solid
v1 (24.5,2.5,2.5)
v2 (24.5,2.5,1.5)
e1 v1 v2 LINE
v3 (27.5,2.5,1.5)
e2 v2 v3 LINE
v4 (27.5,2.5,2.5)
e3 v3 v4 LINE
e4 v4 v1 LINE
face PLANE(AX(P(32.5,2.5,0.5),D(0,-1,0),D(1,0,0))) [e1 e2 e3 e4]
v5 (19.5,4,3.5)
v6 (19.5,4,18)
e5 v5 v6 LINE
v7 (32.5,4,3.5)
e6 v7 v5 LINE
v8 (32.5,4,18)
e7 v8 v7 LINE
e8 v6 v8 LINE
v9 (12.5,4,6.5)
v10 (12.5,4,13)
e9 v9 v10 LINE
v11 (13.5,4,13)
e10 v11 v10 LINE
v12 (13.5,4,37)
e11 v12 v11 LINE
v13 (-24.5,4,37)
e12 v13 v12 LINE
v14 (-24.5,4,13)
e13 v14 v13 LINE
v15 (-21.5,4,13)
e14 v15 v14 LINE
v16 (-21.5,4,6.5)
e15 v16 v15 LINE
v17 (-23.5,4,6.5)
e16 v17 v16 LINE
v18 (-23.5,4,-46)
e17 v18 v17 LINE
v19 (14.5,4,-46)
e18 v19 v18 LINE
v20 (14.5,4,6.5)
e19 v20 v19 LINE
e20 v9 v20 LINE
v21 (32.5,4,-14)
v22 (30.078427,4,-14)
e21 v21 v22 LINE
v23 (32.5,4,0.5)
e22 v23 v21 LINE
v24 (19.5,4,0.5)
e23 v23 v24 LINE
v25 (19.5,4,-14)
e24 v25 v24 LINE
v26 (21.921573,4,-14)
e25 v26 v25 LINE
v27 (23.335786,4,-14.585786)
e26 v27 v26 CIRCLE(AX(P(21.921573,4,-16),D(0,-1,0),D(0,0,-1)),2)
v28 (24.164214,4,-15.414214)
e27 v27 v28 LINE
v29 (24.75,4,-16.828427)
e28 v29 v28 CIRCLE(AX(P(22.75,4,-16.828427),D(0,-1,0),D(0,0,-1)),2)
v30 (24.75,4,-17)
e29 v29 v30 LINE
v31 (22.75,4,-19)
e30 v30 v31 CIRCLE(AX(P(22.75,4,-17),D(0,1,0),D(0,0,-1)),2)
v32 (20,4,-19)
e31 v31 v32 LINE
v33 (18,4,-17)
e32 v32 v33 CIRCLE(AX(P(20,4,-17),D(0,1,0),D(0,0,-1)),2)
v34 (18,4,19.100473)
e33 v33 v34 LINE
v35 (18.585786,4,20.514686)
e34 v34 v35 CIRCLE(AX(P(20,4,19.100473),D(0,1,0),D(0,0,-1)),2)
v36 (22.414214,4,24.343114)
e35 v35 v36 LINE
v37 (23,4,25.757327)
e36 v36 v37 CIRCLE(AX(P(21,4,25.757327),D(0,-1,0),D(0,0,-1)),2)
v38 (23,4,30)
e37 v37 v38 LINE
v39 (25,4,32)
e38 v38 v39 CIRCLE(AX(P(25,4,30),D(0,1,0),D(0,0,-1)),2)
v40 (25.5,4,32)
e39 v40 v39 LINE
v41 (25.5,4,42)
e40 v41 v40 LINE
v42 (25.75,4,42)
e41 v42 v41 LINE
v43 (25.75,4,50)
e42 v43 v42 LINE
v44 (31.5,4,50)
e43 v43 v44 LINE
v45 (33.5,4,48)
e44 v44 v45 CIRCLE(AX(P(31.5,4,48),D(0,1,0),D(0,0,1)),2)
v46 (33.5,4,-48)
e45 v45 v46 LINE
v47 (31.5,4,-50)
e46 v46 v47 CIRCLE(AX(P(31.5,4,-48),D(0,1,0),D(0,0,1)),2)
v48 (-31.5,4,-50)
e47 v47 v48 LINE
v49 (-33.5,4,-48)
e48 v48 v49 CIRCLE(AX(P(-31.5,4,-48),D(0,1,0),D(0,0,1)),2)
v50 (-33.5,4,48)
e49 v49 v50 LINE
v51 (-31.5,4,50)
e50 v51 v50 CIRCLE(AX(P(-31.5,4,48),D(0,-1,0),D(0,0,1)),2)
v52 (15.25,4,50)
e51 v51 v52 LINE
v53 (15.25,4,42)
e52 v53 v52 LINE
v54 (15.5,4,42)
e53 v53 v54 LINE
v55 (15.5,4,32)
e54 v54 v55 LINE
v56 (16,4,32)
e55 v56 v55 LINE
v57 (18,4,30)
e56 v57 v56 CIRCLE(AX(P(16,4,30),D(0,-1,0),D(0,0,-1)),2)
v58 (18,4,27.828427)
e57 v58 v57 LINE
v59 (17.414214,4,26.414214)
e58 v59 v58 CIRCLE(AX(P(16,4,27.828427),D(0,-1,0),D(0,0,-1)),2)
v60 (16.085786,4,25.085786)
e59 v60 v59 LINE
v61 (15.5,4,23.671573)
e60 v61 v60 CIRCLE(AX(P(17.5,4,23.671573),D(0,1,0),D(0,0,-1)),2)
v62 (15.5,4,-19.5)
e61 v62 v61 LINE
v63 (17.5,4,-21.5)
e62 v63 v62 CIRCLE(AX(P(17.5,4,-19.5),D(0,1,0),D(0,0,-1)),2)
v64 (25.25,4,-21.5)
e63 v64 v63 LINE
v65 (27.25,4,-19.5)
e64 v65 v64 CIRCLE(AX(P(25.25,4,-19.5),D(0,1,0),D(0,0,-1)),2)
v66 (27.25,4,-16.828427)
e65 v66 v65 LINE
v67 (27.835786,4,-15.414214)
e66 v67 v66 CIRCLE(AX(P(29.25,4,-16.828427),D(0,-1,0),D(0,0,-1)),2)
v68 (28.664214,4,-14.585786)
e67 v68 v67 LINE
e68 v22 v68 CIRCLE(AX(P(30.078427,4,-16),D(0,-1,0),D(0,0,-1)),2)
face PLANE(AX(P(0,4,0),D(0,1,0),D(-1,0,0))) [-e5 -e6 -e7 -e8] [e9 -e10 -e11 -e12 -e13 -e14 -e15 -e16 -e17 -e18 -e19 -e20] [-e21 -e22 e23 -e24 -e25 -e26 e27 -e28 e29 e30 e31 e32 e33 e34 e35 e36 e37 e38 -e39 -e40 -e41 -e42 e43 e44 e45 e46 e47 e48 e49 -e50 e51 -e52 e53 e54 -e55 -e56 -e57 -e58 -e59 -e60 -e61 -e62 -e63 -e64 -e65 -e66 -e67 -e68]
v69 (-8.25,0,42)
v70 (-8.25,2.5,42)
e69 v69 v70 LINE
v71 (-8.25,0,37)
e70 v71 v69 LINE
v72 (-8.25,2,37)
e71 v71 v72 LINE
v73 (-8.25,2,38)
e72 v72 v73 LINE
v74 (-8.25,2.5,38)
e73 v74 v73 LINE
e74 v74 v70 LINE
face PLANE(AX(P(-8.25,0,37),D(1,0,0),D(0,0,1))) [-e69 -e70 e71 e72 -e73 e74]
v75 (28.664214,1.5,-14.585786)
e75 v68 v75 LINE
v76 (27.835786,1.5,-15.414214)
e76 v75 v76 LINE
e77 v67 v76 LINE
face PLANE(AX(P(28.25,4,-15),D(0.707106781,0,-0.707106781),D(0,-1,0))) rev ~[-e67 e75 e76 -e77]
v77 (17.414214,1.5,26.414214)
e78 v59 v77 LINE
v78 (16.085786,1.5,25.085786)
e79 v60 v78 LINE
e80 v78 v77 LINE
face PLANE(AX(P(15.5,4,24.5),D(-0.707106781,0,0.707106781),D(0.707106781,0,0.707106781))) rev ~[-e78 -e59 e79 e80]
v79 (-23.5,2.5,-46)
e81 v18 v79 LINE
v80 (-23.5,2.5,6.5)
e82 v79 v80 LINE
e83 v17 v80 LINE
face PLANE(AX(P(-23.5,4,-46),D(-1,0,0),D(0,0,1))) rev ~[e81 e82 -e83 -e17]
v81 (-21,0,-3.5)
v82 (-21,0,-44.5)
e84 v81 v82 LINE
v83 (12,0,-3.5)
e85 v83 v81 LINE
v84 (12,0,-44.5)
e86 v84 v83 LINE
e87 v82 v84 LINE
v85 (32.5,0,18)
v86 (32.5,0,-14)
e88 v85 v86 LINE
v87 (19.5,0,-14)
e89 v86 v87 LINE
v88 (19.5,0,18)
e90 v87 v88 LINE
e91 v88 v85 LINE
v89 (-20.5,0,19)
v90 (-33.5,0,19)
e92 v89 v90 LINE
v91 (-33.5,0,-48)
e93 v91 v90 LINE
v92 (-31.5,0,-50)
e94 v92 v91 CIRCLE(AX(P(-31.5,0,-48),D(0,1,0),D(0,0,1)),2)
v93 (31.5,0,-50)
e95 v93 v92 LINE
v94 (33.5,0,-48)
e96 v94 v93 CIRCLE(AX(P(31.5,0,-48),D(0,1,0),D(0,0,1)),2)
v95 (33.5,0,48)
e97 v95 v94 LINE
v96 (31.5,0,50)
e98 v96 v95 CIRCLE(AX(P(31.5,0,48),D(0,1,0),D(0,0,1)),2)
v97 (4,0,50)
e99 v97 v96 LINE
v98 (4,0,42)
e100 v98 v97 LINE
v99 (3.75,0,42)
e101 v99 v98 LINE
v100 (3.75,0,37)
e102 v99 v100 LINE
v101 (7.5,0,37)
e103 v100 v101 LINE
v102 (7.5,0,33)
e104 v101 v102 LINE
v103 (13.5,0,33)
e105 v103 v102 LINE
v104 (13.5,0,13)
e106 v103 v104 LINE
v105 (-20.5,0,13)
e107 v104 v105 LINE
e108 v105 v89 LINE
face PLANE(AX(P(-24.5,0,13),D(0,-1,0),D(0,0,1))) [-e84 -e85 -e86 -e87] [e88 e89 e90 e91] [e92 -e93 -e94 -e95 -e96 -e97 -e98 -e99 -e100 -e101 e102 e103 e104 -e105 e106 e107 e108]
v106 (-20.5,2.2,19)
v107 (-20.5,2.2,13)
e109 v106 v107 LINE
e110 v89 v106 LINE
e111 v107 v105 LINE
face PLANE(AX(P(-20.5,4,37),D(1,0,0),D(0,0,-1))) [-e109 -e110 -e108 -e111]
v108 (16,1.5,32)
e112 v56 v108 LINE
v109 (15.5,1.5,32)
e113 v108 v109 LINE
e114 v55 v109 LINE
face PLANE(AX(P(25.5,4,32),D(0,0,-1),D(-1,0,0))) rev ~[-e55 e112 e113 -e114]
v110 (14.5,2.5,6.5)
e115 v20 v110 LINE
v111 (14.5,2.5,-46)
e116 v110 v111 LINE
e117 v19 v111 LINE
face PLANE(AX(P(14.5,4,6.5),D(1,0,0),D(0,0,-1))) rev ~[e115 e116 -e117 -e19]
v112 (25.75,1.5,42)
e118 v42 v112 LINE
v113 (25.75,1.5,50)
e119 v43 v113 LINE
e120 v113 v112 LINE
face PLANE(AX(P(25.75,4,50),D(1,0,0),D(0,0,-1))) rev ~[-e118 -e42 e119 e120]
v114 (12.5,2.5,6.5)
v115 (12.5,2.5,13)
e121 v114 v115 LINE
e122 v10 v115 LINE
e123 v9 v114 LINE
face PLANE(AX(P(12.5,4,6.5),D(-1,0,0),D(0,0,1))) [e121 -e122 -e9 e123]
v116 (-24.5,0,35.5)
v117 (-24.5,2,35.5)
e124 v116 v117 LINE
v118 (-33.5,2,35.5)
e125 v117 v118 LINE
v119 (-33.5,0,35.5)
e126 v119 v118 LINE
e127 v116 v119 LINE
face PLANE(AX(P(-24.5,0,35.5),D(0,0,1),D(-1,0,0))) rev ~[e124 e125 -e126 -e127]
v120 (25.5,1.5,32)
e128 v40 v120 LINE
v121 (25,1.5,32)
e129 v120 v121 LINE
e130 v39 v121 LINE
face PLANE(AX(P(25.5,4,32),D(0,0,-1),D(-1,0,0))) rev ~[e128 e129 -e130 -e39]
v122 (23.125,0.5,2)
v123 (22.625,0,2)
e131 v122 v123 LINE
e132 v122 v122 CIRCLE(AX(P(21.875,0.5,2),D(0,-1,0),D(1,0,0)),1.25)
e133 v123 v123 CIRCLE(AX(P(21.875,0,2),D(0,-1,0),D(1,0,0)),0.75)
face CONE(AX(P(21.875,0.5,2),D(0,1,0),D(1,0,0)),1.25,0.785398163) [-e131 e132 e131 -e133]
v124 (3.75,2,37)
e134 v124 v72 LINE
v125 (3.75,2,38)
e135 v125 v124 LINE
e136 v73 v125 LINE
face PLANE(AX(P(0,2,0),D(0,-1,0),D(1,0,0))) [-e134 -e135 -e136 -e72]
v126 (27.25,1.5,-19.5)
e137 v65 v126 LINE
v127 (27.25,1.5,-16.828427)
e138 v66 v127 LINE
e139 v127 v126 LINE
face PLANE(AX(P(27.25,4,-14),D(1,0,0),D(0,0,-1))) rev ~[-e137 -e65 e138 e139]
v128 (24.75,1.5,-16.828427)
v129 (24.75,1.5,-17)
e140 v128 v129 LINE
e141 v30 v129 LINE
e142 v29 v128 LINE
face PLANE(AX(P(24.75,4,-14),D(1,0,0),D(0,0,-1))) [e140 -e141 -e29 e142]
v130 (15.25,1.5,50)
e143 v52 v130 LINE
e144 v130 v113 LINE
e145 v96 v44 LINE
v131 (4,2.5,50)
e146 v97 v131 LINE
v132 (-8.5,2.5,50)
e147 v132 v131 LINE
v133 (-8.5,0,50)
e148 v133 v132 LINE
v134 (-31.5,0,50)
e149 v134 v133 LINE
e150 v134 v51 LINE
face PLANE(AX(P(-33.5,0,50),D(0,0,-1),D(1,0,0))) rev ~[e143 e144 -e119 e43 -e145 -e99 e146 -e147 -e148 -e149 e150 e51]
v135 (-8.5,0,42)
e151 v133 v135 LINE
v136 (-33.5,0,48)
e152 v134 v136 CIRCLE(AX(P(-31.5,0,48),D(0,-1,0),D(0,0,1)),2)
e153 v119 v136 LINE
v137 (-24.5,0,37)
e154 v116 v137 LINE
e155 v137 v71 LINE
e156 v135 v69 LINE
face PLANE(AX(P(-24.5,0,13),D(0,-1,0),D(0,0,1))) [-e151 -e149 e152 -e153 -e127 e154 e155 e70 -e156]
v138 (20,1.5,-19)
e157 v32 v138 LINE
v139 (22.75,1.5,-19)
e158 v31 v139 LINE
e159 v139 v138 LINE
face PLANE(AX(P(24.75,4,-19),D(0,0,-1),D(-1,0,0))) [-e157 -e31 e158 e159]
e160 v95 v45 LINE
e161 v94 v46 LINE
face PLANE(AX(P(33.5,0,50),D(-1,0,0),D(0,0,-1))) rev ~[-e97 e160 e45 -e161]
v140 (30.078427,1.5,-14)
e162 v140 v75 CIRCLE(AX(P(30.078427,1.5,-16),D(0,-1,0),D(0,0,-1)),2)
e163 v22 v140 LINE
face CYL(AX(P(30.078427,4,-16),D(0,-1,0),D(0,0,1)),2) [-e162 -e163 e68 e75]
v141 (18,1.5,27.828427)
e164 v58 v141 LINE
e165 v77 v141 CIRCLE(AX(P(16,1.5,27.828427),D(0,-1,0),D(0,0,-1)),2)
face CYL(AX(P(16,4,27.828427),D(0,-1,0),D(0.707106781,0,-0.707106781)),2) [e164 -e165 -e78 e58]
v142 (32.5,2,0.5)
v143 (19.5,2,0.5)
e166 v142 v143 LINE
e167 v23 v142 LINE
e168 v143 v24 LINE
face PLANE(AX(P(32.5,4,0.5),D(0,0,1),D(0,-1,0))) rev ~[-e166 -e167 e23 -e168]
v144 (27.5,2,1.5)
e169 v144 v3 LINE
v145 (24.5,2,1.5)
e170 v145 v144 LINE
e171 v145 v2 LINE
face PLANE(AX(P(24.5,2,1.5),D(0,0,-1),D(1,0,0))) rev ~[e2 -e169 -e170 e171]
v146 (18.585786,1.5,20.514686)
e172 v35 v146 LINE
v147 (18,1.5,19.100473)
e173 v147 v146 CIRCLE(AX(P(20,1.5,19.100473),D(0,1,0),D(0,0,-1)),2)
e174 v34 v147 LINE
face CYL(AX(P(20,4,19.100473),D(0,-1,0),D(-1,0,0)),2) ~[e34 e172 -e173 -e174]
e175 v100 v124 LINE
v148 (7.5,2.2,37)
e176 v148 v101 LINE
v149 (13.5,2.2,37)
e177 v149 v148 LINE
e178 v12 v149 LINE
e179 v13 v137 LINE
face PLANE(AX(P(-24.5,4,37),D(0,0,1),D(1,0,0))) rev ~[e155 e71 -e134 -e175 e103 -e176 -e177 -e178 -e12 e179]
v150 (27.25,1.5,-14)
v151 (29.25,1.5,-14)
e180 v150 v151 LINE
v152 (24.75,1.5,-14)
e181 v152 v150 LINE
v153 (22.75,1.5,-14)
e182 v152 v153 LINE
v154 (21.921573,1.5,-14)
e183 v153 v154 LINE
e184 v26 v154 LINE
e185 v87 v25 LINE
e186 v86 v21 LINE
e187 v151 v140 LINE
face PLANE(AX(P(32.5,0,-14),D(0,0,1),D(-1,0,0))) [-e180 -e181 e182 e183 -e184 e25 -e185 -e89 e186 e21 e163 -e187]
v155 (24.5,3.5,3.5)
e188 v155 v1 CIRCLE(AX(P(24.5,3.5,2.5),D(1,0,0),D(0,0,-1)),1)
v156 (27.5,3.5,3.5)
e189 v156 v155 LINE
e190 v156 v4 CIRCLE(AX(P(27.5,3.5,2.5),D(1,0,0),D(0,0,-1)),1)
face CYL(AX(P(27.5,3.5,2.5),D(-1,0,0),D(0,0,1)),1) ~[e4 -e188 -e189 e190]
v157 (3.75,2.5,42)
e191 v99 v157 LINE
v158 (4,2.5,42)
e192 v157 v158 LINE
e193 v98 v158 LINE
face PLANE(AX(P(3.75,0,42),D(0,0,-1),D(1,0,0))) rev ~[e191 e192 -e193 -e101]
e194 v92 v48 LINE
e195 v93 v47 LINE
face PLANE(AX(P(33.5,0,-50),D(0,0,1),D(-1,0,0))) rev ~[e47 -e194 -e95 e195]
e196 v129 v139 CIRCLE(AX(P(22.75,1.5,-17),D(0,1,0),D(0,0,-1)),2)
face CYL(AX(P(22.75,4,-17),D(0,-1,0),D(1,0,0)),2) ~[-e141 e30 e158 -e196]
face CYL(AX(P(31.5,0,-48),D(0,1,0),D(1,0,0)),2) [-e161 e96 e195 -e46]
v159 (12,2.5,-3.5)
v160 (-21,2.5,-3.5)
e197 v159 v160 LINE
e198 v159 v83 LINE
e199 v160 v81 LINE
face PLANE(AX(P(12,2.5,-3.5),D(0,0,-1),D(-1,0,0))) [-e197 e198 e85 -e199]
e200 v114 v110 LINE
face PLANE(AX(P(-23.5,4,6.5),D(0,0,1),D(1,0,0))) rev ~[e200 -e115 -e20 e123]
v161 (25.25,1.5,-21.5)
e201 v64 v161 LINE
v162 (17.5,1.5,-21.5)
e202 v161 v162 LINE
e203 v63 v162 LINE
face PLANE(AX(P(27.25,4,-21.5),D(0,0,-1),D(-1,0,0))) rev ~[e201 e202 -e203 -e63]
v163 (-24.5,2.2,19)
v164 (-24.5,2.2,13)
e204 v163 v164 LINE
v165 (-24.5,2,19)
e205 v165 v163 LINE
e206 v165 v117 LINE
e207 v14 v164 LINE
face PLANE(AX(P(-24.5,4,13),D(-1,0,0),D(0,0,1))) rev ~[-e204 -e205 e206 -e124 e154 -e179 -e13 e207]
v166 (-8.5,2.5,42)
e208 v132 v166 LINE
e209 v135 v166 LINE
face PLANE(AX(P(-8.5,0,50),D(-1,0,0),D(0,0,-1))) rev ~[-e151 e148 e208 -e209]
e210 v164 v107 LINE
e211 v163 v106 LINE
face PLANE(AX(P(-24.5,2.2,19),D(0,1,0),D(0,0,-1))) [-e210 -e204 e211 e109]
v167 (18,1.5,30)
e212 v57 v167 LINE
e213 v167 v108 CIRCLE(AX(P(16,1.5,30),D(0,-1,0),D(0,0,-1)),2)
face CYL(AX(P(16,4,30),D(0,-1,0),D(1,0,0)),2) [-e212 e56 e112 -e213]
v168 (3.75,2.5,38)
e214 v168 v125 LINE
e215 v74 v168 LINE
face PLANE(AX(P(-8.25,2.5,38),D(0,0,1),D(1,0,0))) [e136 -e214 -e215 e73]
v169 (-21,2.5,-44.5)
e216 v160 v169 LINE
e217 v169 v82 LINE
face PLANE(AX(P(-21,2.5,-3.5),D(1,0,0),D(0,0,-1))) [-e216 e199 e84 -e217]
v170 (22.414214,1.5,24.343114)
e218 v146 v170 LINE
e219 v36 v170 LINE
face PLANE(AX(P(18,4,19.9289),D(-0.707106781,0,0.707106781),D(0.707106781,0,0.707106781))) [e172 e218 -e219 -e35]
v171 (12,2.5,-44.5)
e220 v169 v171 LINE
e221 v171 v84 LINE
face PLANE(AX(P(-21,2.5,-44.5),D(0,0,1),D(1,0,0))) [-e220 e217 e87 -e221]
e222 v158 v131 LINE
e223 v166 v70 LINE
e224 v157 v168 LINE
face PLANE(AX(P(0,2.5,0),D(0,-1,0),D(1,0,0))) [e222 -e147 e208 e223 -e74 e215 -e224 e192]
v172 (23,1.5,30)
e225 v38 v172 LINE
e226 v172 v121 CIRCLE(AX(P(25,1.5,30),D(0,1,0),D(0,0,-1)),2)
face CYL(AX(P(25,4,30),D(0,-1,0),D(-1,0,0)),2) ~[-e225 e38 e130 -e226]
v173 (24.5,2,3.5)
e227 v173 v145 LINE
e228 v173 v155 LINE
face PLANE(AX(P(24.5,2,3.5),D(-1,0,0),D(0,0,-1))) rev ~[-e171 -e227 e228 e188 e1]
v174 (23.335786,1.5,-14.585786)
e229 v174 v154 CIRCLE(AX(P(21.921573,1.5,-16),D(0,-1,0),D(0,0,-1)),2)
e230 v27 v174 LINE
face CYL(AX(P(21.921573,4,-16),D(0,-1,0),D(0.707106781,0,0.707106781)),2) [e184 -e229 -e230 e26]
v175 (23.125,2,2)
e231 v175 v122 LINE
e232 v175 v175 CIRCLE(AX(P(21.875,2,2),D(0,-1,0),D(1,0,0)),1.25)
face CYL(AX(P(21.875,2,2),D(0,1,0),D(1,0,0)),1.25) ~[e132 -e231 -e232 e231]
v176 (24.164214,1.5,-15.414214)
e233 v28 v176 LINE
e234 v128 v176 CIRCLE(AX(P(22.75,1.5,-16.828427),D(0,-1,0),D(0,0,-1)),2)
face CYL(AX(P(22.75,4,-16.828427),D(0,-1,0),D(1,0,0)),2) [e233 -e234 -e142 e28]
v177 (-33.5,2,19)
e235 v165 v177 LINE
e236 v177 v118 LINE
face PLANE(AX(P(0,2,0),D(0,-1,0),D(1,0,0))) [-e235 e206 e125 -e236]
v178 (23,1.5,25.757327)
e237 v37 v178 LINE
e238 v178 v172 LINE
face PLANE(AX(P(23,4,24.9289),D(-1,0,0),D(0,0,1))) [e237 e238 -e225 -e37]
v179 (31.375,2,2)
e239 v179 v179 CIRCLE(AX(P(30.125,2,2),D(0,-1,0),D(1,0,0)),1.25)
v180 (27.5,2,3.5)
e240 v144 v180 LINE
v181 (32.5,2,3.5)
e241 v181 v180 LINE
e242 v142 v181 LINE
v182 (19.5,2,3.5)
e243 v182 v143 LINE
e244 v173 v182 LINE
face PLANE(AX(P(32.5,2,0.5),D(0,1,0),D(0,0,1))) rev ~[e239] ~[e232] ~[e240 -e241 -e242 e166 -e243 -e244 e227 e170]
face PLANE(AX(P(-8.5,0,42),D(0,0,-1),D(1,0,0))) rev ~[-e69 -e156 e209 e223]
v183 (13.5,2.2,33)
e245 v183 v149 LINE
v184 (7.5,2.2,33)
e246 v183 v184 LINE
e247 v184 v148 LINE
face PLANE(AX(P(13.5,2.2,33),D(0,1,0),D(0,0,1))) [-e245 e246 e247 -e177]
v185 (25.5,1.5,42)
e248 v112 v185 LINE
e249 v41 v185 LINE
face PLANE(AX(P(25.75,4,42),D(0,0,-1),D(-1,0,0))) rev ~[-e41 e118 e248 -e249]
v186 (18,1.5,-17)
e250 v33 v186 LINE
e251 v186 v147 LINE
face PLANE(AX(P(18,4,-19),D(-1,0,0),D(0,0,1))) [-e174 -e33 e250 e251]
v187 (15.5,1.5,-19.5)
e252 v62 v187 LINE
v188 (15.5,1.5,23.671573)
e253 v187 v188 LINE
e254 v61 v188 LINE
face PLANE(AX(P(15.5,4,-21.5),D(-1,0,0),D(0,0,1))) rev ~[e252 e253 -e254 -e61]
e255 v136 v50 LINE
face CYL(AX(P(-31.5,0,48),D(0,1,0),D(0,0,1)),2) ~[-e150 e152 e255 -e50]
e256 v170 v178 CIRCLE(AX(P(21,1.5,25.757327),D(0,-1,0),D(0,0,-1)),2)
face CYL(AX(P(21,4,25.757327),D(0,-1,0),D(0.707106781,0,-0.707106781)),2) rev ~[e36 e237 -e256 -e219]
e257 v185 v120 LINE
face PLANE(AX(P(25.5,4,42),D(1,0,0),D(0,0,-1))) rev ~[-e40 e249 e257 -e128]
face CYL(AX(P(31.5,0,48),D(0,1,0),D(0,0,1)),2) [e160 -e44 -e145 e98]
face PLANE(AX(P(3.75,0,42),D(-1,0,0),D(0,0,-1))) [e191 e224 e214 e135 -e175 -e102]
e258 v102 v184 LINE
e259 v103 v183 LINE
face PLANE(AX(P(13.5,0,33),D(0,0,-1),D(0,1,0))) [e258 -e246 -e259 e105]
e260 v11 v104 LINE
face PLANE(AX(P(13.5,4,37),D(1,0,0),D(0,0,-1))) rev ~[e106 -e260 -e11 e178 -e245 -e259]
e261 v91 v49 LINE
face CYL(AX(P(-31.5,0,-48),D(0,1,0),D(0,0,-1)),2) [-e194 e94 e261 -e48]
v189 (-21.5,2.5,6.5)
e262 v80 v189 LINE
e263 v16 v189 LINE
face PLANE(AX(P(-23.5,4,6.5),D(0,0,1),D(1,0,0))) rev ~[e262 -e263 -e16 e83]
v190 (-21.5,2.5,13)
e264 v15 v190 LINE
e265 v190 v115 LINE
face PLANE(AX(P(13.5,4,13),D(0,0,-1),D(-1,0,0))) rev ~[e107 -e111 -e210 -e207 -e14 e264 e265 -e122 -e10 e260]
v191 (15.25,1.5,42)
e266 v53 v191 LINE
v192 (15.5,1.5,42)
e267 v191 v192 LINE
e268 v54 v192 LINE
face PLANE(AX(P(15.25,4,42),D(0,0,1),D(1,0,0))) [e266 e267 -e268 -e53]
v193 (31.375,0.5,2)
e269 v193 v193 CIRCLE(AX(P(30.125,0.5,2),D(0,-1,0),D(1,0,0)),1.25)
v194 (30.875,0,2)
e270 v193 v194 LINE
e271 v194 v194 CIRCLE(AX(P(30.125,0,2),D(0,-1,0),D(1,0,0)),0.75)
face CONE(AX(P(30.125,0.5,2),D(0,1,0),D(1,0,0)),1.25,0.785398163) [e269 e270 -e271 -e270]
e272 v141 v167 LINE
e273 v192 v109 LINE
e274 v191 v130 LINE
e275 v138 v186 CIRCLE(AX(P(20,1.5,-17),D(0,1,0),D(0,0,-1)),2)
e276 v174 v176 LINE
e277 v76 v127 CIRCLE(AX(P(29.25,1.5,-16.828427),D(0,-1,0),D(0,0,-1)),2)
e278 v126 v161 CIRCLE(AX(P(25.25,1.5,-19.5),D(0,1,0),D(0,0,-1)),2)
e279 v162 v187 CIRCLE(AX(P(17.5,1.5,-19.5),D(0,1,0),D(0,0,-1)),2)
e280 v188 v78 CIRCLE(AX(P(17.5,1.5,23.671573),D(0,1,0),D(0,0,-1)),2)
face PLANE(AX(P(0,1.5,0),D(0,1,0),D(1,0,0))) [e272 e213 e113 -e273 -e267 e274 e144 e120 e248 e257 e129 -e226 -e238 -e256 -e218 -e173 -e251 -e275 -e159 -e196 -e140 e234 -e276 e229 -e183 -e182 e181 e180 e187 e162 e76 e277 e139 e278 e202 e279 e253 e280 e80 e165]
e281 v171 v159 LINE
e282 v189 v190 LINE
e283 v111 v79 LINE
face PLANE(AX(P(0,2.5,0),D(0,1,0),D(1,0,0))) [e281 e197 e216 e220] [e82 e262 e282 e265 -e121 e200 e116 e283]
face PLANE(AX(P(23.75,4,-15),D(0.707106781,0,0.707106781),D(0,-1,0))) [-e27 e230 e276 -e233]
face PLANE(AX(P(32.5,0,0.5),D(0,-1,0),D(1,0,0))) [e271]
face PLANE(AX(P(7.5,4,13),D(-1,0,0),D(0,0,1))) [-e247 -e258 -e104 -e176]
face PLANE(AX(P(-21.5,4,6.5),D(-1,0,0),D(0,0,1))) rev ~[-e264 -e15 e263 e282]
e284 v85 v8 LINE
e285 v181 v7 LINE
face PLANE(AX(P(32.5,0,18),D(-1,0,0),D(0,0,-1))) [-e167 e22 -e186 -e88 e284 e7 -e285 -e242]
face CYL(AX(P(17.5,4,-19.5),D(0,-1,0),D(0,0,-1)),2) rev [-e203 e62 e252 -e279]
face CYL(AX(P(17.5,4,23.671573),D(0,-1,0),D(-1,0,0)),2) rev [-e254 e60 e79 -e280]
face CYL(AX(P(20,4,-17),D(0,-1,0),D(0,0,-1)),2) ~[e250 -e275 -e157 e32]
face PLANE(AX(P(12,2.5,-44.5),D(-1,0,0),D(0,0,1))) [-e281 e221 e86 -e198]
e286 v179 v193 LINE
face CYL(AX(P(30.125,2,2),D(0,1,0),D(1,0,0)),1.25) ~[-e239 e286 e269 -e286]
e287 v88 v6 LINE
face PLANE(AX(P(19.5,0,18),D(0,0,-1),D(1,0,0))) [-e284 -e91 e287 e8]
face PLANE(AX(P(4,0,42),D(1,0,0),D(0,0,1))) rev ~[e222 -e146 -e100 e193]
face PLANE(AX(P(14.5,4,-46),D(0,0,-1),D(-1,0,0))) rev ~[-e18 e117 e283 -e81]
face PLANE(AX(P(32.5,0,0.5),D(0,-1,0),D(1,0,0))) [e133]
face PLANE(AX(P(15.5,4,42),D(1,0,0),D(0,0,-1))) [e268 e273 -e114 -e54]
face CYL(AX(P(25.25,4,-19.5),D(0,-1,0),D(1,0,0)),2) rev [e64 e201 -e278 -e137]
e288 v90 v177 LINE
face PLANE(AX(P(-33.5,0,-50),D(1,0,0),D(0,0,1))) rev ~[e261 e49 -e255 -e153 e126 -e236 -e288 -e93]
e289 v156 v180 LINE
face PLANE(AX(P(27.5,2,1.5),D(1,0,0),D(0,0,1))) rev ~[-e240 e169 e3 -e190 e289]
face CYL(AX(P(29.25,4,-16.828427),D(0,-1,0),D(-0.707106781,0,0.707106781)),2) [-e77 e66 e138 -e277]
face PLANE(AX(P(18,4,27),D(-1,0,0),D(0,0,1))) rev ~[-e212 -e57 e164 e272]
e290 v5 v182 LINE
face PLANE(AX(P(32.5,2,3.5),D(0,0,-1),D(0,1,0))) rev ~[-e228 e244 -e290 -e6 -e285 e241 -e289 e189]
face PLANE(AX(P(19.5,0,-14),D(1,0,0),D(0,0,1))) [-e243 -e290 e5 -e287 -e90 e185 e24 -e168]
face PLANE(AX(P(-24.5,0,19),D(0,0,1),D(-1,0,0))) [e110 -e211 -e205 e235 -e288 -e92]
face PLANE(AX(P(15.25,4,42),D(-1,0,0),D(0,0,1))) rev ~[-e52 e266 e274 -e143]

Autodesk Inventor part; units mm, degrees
ref_plane "YZ Plane" through (0, 0, 0) normal (1, 0, 0) x (0, 1, 0)
ref_plane "XZ Plane" through (0, 0, 0) normal (0, 1, 0) x (-1, 0, 0)
ref_plane "XY Plane" through (0, 0, 0) normal (0, 0, 1) x (1, 0, 0)
sketch "Sketch2" plane through (0, 0, 0) normal (0, 1, 0) x (-1, 0, 0)
  line L0 (-33.5, -50) -> (33.5, -50)
  line L1 (33.5, -50) -> (33.5, 50)
  line L2 (33.5, 50) -> (-33.5, 50)
  line L3 (-33.5, 50) -> (-33.5, -50)
  line L4 (-33.5, -50) -> (33.5, 50) construction
  line L5 (33.5, -50) -> (-33.5, 50) construction
  point P0 (0, 0)
  dimension "d0" = 67
  dimension "d1" = 100
extrude "Extrusion1" add sketch "Sketch2" along normal blind 4
sketch "Sketch3" plane through (0, 4, 0) normal (0, 1, 0) x (1, 0, 0)
  line L0 (33.5, 50) -> (-33.5, 50) projected
  line L1 (-23.5, -6.5) -> (14.5, -6.5)
  line L2 (14.5, -6.5) -> (14.5, 46)
  line L3 (14.5, 46) -> (-23.5, 46)
  line L4 (-23.5, 46) -> (-23.5, -6.5)
  line L5 (-23.5, -6.5) -> (14.5, 46) construction
  line L6 (14.5, -6.5) -> (-23.5, 46) construction
  line L7 (-33.5, 50) -> (-33.5, -50) projected
  point P0 (0, 0)
  point P1 (-4.5, 19.75)
  dimension "d4" = 38
  dimension "d5" = 52.5
  dimension "d6" = 4
  dimension "d111" = 10
extrude "Extrusion2" cut sketch "Sketch3" against normal blind 1.5
sketch "Sketch4" plane through (0, 2.5, 0) normal (0, 1, 0) x (1, 0, 0)
  line L0 (14.5, -6.5) -> (-23.5, -6.5) projected
  line L1 (14.5, 46) -> (14.5, -6.5) projected
  line L2 (-23.5, 46) -> (14.5, 46) projected
  line L3 (-23.5, -6.5) -> (-23.5, 46) projected
  line L4 (-21, 44.5) -> (12, 44.5)
  line L5 (12, 44.5) -> (12, 3.5)
  line L6 (12, 3.5) -> (-21, 3.5)
  line L7 (-21, 3.5) -> (-21, 44.5)
  line L8 (-21, 44.5) -> (12, 3.5) construction
  line L9 (12, 44.5) -> (-21, 3.5) construction
  point P0 (0, 0)
  point P1 (-4.5, 24)
  dimension "d9" = 10
  dimension "d10" = 1.5
  dimension "d11" = 2.5
  dimension "d12" = 2.5
extrude "Extrusion3" cut sketch "Sketch4" against normal blind 2.5 contours L4 L5 L6 L7
sketch "Sketch12" plane through (0, 4, 0) normal (0, 1, 0) x (1, 0, 0)
  line L0 (-24.5, -37) -> (13.5, -37)
  line L1 (13.5, -37) -> (13.5, -13)
  line L2 (13.5, -13) -> (-24.5, -13)
  line L3 (-24.5, -13) -> (-24.5, -37)
  line L4 (-24.5, -37) -> (13.5, -13) construction
  line L5 (13.5, -37) -> (-24.5, -13) construction
  line L6 (-23.5, -6.5) -> (-23.5, 46) projected
  line L7 (14.5, -6.5) -> (-23.5, -6.5) projected
  point P0 (0, 0)
  point P1 (-5.5, -25)
  point P2 (-5.5, -25)
  dimension "d58" = 38
  dimension "d59" = 24
  dimension "d112" = 1
  dimension "d154" = 6.5
extrude "Extrusion10" cut sketch "Sketch12" against normal blind 4
sketch "Sketch18" plane through (13.5, 4, 13) normal (-1, 0, 0) x (0, 0, 1)
  line L0 (0, 0) -> (24, 0) projected
  line L1 (24, -4) -> (20, -4)
  line L2 (20, -4) -> (20, -1.8)
  line L3 (20, -1.8) -> (24, -1.8)
  line L4 (24, -1.8) -> (24, -4)
  point P0 (-13, -4)
  dimension "d88" = 4
  dimension "d89" = 1.8
extrude "Extrusion17" add sketch "Sketch18" along normal blind 6
sketch "Sketch20" plane through (-24.5, 4, 37) normal (1, 0, 0) x (0, 0, -1)
  line L0 (0, 0) -> (24, 0) projected
  line L1 (24, -4) -> (18, -4)
  line L2 (18, -4) -> (18, -1.8)
  line L3 (18, -1.8) -> (24, -1.8)
  line L4 (24, -1.8) -> (24, -4)
  point P0 (37, -4)
  dimension "d96" = 6
  dimension "d97" = 1.8
extrude "Extrusion19" add sketch "Sketch20" along normal blind 4
sketch "Sketch22" plane through (0, 0, 0) normal (0, -1, 0) x (1, 0, 0)
  line L0 (33.5, 50) -> (33.5, -50) projected
  line L1 (32.5, -14) -> (19.5, -14)
  line L2 (19.5, -14) -> (19.5, 18)
  line L3 (19.5, 18) -> (32.5, 18)
  line L4 (32.5, 18) -> (32.5, -14)
  line L5 (33.5, -50) -> (-33.5, -50) projected
  point P0 (0, 0)
  dimension "d102" = 1
  dimension "d103" = 13
  dimension "d110" = 32
  dimension "d155" = 36
extrude "Extrusion21" cut sketch "Sketch22" against normal up to next
sketch "Sketch23" plane through (0, 4, 0) normal (0, 1, 0) x (1, 0, 0)
  line L0 (-24.5, -13) -> (13.5, -13) projected
  line L1 (14.5, 46) -> (14.5, -6.5) projected
  line L2 (14.5, -6.5) -> (-23.5, -6.5) projected
  line L3 (-23.5, -6.5) -> (-23.5, 46) projected
  line L4 (-21.5, -6.5) -> (-21.5, -13)
  line L5 (12.5, -6.5) -> (12.5, -13)
  point P0 (0, 0)
  dimension "d114" = 2
  dimension "d115" = 2
extrude "Extrusion22" cut sketch "Sketch23" against normal up to surface (1.5 mm away)
sketch "Sketch24" plane through (32.5, 0, -14) normal (-1, 0, 0) x (0, 0, 1)
  line L0 (0, 0) -> (0, 4) projected
  line L1 (14.5, 2) -> (17.5, 2)
  line L2 (17.5, 2) -> (17.5, 4)
  line L3 (17.5, 4) -> (14.5, 4)
  line L4 (14.5, 4) -> (14.5, 2)
  line L5 (14.5, 2) -> (17.5, 4) construction
  line L6 (17.5, 2) -> (14.5, 4) construction
  line L7 (0, 4) -> (32, 4) projected
  point P0 (16, 3)
  dimension "d118" = 3
  dimension "d119" = 2
  dimension "d120" = 16
extrude "Extrusion23" add sketch "Sketch24" along normal up to next
sketch "Sketch25" plane through (32.5, 2, 0.5) normal (0, -1, 0) x (1, 0, 0)
  line L0 (-8, 1) -> (-5, 1)
  line L1 (-5, 1) -> (-5, 3)
  line L2 (-5, 3) -> (-8, 3)
  line L3 (-8, 3) -> (-8, 1)
  line L4 (-8, 1) -> (-5, 3) construction
  line L5 (-5, 1) -> (-8, 3) construction
  line L6 (0, 3) -> (-13, 3) projected
  point P0 (32.5, 26.5)
  point P1 (-6.5, 2)
  point P2 (-6.5, 2)
  point P3 (-6.5, 0)
  point P4 (-6.5, 2)
  point P5 (-6.5, 3)
  dimension "d123" = 3
  dimension "d124" = 2
extrude "Extrusion24" cut sketch "Sketch25" against normal blind 0.5
fillet "Fillet6" radius 1 1 edges at (26, 2.5, 3.5)
sketch "Sketch26" plane through (32.5, 2, 0.5) normal (0, -1, 0) x (1, 0, 0)
  line L0 (0, 3) -> (0, 0)
  circle A0 centre (-10.625, 1.5) radius 1.25
  circle A1 centre (-2.375, 1.5) radius 1.25
  line L1 (0, 3) -> (-13, 3) projected
  line L2 (-13, -14.5) -> (-13, 17.5) projected
  point P0 (32.5, 26.5)
  point P1 (-6.5, 1.5)
  point P2 (0, 1.5)
  point P3 (-6.5, 0)
  point P4 (-6.5, 3)
  point P5 (-13, 1.5)
  dimension "d128" = 2.5
  dimension "d129" = 2.5
  dimension "d130" = 4.125
  dimension "d131" = 8.25
extrude "Extrusion25" add sketch "Sketch26" along normal blind 2
chamfer "Chamfer3" distance 0.5 angle 45 2 edges at (28.875, 0, 2) (20.625, 0, 2)
sketch "Sketch27" plane through (0, 4, 0) normal (0, 1, 0) x (1, 0, 0)
  line L0 (-33.5, -50) -> (33.5, -50) projected
  line L1 (32.5, -18) -> (19.5, -18) projected
  line L2 (19.5, 14) -> (32.5, 14) projected
  line L3 (15.25, -50) -> (25.75, -50)
  line L4 (25.75, -50) -> (25.75, -32)
  line L5 (25.75, -32) -> (15.25, -32)
  line L6 (15.25, -32) -> (15.25, -50)
  line L7 (15.25, -50) -> (25.75, -32) construction
  line L8 (25.75, -50) -> (15.25, -32) construction
  line L9 (19.5, -18) -> (19.5, 14) projected
  line L10 (15.25, -42) -> (15.5, -42)
  line L11 (15.5, -42) -> (15.5, -32)
  line L12 (25.75, -42) -> (25.5, -42)
  line L13 (25.5, -42) -> (25.5, -32)
  point P0 (0, 0)
  point P1 (26, 14)
  point P2 (20.5, -41)
  point P3 (20.5, -41)
  point P4 (26, -18)
  dimension "d138" = 10.5
  dimension "d139" = 18
  dimension "d148" = 0.25
  dimension "d149" = 0.25
  dimension "d150" = 8
  dimension "d168" = 13
extrude "Extrusion26" cut sketch "Sketch27" against normal blind 2.5 contours L6 L10 L11 L5 L13 L12 L4 L0
sketch "Sketch29" plane through (0, 0, 0) normal (0, -1, 0) x (1, 0, 0)
  line L0 (-24.5, 19) -> (-24.5, 37) projected
  line L1 (-24.5, 37) -> (7.5, 37) projected
  line L2 (-33.5, -50) -> (-33.5, 50) projected
  line L3 (-33.5, 50) -> (33.5, 50) projected
  line L4 (-24.5, 19) -> (-33.5, 19)
  line L5 (-24.5, 35.5) -> (-33.5, 35.5)
  point P0 (0, 0)
  dimension "d151" = 1.5
extrude "Extrusion28" cut sketch "Sketch29" against normal blind 2
sketch "Sketch30" plane through (0, 0, 0) normal (0, -1, 0) x (1, 0, 0)
  line L0 (-33.5, 50) -> (33.5, 50) projected
  line L1 (-8.5, 42) -> (4, 42)
  line L2 (4, 42) -> (4, 50)
  line L3 (4, 50) -> (-8.5, 50)
  line L4 (-8.5, 50) -> (-8.5, 42)
  line L5 (-8.5, 42) -> (4, 50) construction
  line L6 (4, 42) -> (-8.5, 50) construction
  line L7 (3.75, 37) -> (-8.25, 37)
  line L8 (-8.25, 37) -> (-8.25, 42)
  line L9 (-8.25, 42) -> (3.75, 42)
  line L10 (3.75, 42) -> (3.75, 37)
  line L11 (3.75, 37) -> (-8.25, 42) construction
  line L12 (-8.25, 37) -> (3.75, 42) construction
  line L13 (-24.5, 37) -> (7.5, 37) projected
  point P0 (0, 0)
  point P1 (-2.25, 46)
  point P2 (-2.25, 39.5)
  point P3 (-2.25, 39.5)
  point P4 (-2.25, 46)
  dimension "d156" = 12.5
  dimension "d157" = 8
  dimension "d158" = 16
  dimension "d162" = 12
extrude "Extrusion29" cut sketch "Sketch30" against normal blind 2.5
sketch "Sketch32" plane through (0, 2.5, 0) normal (0, -1, 0) x (1, 0, 0)
  line L0 (-8.25, 37) -> (-8.25, 42) projected
  line L1 (3.75, 37) -> (-8.25, 37) projected
  line L2 (3.75, 42) -> (3.75, 37) projected
  line L3 (-8.25, 42) -> (-8.5, 42) projected
  line L4 (-8.25, 38) -> (3.75, 38)
  point P0 (0, 0)
  dimension "d183" = 1
extrude "Extrusion31" add sketch "Sketch32" along normal blind 0.5
sketch "Sketch33" plane through (0, 4, 0) normal (0, 1, 0) x (1, 0, 0)
  line L0 (27.25, 14) -> (27.25, 21.5)
  line L1 (27.25, 21.5) -> (15.5, 21.5)
  line L2 (15.5, 21.5) -> (15.5, -24.5)
  line L3 (24.75, 14) -> (24.75, 19)
  line L4 (24.75, 19) -> (18, 19)
  line L5 (18, 19) -> (18, -19.9289)
  line L6 (18, -19.9289) -> (23, -24.9289)
  line L7 (23, -24.9289) -> (23, -32)
  line L8 (15.5, -24.5) -> (18, -27)
  line L9 (18, -27) -> (18, -32)
  line L10 (19.5, 14) -> (32.5, 14) projected
  line L11 (18, -32) -> (23, -32)
  line L12 (24.75, 14) -> (27.25, 14)
  line L13 (15.5, -32) -> (25.5, -32) projected
  line L14 (13.5, -13) -> (13.5, -37) projected
  point P0 (0, 0)
  point P1 (26, 14)
  point P2 (20.5, -32)
  point P3 (20.5, -32)
  point P4 (26, 14)
  point P5 (20.5, -32)
  dimension "d198" = 2.5
  dimension "d199" = 2.5
  dimension "d200" = 2.5
  dimension "d201" = 5
  dimension "d202" = 5
  dimension "d203" = 135
  dimension "d204" = 135
  dimension "d205" = 2.5
  dimension "d206" = 1.25
  dimension "d207" = 2
  dimension "d208" = 5
  dimension "d209" = 5
extrude "Extrusion32" cut sketch "Sketch33" against normal up to surface (2.5 mm away)
chamfer "Chamfer6" distance 2 angle 45 2 edges at (24.75, 2.75, -14) (27.25, 2.75, -14)
fillet "Fillet9" radius 2 13 edges at (22.75, 2.75, -14) (27.25, 2.75, -16) (29.25, 2.75, -14) (27.25, 2.75, -21.5) (15.5, 2.75, -21.5) (18, 2.75, 19.9289) (23, 2.75, 24.9289) (23, 2.75, 32) (18, 2.75, 32) (18, 2.75, 27) (15.5, 2.75, 24.5) (24.75, 2.75, -16) (24.75, 2.75, -19)
fillet "Fillet9" radius 2 1 edges at (18, 2.75, -19)
fillet "Fillet10" radius 2 4 edges at (33.5, 2, 50) (-33.5, 2, 50) (33.5, 2, -50) (-33.5, 2, -50)
properties part number "DisplayBottom2"
